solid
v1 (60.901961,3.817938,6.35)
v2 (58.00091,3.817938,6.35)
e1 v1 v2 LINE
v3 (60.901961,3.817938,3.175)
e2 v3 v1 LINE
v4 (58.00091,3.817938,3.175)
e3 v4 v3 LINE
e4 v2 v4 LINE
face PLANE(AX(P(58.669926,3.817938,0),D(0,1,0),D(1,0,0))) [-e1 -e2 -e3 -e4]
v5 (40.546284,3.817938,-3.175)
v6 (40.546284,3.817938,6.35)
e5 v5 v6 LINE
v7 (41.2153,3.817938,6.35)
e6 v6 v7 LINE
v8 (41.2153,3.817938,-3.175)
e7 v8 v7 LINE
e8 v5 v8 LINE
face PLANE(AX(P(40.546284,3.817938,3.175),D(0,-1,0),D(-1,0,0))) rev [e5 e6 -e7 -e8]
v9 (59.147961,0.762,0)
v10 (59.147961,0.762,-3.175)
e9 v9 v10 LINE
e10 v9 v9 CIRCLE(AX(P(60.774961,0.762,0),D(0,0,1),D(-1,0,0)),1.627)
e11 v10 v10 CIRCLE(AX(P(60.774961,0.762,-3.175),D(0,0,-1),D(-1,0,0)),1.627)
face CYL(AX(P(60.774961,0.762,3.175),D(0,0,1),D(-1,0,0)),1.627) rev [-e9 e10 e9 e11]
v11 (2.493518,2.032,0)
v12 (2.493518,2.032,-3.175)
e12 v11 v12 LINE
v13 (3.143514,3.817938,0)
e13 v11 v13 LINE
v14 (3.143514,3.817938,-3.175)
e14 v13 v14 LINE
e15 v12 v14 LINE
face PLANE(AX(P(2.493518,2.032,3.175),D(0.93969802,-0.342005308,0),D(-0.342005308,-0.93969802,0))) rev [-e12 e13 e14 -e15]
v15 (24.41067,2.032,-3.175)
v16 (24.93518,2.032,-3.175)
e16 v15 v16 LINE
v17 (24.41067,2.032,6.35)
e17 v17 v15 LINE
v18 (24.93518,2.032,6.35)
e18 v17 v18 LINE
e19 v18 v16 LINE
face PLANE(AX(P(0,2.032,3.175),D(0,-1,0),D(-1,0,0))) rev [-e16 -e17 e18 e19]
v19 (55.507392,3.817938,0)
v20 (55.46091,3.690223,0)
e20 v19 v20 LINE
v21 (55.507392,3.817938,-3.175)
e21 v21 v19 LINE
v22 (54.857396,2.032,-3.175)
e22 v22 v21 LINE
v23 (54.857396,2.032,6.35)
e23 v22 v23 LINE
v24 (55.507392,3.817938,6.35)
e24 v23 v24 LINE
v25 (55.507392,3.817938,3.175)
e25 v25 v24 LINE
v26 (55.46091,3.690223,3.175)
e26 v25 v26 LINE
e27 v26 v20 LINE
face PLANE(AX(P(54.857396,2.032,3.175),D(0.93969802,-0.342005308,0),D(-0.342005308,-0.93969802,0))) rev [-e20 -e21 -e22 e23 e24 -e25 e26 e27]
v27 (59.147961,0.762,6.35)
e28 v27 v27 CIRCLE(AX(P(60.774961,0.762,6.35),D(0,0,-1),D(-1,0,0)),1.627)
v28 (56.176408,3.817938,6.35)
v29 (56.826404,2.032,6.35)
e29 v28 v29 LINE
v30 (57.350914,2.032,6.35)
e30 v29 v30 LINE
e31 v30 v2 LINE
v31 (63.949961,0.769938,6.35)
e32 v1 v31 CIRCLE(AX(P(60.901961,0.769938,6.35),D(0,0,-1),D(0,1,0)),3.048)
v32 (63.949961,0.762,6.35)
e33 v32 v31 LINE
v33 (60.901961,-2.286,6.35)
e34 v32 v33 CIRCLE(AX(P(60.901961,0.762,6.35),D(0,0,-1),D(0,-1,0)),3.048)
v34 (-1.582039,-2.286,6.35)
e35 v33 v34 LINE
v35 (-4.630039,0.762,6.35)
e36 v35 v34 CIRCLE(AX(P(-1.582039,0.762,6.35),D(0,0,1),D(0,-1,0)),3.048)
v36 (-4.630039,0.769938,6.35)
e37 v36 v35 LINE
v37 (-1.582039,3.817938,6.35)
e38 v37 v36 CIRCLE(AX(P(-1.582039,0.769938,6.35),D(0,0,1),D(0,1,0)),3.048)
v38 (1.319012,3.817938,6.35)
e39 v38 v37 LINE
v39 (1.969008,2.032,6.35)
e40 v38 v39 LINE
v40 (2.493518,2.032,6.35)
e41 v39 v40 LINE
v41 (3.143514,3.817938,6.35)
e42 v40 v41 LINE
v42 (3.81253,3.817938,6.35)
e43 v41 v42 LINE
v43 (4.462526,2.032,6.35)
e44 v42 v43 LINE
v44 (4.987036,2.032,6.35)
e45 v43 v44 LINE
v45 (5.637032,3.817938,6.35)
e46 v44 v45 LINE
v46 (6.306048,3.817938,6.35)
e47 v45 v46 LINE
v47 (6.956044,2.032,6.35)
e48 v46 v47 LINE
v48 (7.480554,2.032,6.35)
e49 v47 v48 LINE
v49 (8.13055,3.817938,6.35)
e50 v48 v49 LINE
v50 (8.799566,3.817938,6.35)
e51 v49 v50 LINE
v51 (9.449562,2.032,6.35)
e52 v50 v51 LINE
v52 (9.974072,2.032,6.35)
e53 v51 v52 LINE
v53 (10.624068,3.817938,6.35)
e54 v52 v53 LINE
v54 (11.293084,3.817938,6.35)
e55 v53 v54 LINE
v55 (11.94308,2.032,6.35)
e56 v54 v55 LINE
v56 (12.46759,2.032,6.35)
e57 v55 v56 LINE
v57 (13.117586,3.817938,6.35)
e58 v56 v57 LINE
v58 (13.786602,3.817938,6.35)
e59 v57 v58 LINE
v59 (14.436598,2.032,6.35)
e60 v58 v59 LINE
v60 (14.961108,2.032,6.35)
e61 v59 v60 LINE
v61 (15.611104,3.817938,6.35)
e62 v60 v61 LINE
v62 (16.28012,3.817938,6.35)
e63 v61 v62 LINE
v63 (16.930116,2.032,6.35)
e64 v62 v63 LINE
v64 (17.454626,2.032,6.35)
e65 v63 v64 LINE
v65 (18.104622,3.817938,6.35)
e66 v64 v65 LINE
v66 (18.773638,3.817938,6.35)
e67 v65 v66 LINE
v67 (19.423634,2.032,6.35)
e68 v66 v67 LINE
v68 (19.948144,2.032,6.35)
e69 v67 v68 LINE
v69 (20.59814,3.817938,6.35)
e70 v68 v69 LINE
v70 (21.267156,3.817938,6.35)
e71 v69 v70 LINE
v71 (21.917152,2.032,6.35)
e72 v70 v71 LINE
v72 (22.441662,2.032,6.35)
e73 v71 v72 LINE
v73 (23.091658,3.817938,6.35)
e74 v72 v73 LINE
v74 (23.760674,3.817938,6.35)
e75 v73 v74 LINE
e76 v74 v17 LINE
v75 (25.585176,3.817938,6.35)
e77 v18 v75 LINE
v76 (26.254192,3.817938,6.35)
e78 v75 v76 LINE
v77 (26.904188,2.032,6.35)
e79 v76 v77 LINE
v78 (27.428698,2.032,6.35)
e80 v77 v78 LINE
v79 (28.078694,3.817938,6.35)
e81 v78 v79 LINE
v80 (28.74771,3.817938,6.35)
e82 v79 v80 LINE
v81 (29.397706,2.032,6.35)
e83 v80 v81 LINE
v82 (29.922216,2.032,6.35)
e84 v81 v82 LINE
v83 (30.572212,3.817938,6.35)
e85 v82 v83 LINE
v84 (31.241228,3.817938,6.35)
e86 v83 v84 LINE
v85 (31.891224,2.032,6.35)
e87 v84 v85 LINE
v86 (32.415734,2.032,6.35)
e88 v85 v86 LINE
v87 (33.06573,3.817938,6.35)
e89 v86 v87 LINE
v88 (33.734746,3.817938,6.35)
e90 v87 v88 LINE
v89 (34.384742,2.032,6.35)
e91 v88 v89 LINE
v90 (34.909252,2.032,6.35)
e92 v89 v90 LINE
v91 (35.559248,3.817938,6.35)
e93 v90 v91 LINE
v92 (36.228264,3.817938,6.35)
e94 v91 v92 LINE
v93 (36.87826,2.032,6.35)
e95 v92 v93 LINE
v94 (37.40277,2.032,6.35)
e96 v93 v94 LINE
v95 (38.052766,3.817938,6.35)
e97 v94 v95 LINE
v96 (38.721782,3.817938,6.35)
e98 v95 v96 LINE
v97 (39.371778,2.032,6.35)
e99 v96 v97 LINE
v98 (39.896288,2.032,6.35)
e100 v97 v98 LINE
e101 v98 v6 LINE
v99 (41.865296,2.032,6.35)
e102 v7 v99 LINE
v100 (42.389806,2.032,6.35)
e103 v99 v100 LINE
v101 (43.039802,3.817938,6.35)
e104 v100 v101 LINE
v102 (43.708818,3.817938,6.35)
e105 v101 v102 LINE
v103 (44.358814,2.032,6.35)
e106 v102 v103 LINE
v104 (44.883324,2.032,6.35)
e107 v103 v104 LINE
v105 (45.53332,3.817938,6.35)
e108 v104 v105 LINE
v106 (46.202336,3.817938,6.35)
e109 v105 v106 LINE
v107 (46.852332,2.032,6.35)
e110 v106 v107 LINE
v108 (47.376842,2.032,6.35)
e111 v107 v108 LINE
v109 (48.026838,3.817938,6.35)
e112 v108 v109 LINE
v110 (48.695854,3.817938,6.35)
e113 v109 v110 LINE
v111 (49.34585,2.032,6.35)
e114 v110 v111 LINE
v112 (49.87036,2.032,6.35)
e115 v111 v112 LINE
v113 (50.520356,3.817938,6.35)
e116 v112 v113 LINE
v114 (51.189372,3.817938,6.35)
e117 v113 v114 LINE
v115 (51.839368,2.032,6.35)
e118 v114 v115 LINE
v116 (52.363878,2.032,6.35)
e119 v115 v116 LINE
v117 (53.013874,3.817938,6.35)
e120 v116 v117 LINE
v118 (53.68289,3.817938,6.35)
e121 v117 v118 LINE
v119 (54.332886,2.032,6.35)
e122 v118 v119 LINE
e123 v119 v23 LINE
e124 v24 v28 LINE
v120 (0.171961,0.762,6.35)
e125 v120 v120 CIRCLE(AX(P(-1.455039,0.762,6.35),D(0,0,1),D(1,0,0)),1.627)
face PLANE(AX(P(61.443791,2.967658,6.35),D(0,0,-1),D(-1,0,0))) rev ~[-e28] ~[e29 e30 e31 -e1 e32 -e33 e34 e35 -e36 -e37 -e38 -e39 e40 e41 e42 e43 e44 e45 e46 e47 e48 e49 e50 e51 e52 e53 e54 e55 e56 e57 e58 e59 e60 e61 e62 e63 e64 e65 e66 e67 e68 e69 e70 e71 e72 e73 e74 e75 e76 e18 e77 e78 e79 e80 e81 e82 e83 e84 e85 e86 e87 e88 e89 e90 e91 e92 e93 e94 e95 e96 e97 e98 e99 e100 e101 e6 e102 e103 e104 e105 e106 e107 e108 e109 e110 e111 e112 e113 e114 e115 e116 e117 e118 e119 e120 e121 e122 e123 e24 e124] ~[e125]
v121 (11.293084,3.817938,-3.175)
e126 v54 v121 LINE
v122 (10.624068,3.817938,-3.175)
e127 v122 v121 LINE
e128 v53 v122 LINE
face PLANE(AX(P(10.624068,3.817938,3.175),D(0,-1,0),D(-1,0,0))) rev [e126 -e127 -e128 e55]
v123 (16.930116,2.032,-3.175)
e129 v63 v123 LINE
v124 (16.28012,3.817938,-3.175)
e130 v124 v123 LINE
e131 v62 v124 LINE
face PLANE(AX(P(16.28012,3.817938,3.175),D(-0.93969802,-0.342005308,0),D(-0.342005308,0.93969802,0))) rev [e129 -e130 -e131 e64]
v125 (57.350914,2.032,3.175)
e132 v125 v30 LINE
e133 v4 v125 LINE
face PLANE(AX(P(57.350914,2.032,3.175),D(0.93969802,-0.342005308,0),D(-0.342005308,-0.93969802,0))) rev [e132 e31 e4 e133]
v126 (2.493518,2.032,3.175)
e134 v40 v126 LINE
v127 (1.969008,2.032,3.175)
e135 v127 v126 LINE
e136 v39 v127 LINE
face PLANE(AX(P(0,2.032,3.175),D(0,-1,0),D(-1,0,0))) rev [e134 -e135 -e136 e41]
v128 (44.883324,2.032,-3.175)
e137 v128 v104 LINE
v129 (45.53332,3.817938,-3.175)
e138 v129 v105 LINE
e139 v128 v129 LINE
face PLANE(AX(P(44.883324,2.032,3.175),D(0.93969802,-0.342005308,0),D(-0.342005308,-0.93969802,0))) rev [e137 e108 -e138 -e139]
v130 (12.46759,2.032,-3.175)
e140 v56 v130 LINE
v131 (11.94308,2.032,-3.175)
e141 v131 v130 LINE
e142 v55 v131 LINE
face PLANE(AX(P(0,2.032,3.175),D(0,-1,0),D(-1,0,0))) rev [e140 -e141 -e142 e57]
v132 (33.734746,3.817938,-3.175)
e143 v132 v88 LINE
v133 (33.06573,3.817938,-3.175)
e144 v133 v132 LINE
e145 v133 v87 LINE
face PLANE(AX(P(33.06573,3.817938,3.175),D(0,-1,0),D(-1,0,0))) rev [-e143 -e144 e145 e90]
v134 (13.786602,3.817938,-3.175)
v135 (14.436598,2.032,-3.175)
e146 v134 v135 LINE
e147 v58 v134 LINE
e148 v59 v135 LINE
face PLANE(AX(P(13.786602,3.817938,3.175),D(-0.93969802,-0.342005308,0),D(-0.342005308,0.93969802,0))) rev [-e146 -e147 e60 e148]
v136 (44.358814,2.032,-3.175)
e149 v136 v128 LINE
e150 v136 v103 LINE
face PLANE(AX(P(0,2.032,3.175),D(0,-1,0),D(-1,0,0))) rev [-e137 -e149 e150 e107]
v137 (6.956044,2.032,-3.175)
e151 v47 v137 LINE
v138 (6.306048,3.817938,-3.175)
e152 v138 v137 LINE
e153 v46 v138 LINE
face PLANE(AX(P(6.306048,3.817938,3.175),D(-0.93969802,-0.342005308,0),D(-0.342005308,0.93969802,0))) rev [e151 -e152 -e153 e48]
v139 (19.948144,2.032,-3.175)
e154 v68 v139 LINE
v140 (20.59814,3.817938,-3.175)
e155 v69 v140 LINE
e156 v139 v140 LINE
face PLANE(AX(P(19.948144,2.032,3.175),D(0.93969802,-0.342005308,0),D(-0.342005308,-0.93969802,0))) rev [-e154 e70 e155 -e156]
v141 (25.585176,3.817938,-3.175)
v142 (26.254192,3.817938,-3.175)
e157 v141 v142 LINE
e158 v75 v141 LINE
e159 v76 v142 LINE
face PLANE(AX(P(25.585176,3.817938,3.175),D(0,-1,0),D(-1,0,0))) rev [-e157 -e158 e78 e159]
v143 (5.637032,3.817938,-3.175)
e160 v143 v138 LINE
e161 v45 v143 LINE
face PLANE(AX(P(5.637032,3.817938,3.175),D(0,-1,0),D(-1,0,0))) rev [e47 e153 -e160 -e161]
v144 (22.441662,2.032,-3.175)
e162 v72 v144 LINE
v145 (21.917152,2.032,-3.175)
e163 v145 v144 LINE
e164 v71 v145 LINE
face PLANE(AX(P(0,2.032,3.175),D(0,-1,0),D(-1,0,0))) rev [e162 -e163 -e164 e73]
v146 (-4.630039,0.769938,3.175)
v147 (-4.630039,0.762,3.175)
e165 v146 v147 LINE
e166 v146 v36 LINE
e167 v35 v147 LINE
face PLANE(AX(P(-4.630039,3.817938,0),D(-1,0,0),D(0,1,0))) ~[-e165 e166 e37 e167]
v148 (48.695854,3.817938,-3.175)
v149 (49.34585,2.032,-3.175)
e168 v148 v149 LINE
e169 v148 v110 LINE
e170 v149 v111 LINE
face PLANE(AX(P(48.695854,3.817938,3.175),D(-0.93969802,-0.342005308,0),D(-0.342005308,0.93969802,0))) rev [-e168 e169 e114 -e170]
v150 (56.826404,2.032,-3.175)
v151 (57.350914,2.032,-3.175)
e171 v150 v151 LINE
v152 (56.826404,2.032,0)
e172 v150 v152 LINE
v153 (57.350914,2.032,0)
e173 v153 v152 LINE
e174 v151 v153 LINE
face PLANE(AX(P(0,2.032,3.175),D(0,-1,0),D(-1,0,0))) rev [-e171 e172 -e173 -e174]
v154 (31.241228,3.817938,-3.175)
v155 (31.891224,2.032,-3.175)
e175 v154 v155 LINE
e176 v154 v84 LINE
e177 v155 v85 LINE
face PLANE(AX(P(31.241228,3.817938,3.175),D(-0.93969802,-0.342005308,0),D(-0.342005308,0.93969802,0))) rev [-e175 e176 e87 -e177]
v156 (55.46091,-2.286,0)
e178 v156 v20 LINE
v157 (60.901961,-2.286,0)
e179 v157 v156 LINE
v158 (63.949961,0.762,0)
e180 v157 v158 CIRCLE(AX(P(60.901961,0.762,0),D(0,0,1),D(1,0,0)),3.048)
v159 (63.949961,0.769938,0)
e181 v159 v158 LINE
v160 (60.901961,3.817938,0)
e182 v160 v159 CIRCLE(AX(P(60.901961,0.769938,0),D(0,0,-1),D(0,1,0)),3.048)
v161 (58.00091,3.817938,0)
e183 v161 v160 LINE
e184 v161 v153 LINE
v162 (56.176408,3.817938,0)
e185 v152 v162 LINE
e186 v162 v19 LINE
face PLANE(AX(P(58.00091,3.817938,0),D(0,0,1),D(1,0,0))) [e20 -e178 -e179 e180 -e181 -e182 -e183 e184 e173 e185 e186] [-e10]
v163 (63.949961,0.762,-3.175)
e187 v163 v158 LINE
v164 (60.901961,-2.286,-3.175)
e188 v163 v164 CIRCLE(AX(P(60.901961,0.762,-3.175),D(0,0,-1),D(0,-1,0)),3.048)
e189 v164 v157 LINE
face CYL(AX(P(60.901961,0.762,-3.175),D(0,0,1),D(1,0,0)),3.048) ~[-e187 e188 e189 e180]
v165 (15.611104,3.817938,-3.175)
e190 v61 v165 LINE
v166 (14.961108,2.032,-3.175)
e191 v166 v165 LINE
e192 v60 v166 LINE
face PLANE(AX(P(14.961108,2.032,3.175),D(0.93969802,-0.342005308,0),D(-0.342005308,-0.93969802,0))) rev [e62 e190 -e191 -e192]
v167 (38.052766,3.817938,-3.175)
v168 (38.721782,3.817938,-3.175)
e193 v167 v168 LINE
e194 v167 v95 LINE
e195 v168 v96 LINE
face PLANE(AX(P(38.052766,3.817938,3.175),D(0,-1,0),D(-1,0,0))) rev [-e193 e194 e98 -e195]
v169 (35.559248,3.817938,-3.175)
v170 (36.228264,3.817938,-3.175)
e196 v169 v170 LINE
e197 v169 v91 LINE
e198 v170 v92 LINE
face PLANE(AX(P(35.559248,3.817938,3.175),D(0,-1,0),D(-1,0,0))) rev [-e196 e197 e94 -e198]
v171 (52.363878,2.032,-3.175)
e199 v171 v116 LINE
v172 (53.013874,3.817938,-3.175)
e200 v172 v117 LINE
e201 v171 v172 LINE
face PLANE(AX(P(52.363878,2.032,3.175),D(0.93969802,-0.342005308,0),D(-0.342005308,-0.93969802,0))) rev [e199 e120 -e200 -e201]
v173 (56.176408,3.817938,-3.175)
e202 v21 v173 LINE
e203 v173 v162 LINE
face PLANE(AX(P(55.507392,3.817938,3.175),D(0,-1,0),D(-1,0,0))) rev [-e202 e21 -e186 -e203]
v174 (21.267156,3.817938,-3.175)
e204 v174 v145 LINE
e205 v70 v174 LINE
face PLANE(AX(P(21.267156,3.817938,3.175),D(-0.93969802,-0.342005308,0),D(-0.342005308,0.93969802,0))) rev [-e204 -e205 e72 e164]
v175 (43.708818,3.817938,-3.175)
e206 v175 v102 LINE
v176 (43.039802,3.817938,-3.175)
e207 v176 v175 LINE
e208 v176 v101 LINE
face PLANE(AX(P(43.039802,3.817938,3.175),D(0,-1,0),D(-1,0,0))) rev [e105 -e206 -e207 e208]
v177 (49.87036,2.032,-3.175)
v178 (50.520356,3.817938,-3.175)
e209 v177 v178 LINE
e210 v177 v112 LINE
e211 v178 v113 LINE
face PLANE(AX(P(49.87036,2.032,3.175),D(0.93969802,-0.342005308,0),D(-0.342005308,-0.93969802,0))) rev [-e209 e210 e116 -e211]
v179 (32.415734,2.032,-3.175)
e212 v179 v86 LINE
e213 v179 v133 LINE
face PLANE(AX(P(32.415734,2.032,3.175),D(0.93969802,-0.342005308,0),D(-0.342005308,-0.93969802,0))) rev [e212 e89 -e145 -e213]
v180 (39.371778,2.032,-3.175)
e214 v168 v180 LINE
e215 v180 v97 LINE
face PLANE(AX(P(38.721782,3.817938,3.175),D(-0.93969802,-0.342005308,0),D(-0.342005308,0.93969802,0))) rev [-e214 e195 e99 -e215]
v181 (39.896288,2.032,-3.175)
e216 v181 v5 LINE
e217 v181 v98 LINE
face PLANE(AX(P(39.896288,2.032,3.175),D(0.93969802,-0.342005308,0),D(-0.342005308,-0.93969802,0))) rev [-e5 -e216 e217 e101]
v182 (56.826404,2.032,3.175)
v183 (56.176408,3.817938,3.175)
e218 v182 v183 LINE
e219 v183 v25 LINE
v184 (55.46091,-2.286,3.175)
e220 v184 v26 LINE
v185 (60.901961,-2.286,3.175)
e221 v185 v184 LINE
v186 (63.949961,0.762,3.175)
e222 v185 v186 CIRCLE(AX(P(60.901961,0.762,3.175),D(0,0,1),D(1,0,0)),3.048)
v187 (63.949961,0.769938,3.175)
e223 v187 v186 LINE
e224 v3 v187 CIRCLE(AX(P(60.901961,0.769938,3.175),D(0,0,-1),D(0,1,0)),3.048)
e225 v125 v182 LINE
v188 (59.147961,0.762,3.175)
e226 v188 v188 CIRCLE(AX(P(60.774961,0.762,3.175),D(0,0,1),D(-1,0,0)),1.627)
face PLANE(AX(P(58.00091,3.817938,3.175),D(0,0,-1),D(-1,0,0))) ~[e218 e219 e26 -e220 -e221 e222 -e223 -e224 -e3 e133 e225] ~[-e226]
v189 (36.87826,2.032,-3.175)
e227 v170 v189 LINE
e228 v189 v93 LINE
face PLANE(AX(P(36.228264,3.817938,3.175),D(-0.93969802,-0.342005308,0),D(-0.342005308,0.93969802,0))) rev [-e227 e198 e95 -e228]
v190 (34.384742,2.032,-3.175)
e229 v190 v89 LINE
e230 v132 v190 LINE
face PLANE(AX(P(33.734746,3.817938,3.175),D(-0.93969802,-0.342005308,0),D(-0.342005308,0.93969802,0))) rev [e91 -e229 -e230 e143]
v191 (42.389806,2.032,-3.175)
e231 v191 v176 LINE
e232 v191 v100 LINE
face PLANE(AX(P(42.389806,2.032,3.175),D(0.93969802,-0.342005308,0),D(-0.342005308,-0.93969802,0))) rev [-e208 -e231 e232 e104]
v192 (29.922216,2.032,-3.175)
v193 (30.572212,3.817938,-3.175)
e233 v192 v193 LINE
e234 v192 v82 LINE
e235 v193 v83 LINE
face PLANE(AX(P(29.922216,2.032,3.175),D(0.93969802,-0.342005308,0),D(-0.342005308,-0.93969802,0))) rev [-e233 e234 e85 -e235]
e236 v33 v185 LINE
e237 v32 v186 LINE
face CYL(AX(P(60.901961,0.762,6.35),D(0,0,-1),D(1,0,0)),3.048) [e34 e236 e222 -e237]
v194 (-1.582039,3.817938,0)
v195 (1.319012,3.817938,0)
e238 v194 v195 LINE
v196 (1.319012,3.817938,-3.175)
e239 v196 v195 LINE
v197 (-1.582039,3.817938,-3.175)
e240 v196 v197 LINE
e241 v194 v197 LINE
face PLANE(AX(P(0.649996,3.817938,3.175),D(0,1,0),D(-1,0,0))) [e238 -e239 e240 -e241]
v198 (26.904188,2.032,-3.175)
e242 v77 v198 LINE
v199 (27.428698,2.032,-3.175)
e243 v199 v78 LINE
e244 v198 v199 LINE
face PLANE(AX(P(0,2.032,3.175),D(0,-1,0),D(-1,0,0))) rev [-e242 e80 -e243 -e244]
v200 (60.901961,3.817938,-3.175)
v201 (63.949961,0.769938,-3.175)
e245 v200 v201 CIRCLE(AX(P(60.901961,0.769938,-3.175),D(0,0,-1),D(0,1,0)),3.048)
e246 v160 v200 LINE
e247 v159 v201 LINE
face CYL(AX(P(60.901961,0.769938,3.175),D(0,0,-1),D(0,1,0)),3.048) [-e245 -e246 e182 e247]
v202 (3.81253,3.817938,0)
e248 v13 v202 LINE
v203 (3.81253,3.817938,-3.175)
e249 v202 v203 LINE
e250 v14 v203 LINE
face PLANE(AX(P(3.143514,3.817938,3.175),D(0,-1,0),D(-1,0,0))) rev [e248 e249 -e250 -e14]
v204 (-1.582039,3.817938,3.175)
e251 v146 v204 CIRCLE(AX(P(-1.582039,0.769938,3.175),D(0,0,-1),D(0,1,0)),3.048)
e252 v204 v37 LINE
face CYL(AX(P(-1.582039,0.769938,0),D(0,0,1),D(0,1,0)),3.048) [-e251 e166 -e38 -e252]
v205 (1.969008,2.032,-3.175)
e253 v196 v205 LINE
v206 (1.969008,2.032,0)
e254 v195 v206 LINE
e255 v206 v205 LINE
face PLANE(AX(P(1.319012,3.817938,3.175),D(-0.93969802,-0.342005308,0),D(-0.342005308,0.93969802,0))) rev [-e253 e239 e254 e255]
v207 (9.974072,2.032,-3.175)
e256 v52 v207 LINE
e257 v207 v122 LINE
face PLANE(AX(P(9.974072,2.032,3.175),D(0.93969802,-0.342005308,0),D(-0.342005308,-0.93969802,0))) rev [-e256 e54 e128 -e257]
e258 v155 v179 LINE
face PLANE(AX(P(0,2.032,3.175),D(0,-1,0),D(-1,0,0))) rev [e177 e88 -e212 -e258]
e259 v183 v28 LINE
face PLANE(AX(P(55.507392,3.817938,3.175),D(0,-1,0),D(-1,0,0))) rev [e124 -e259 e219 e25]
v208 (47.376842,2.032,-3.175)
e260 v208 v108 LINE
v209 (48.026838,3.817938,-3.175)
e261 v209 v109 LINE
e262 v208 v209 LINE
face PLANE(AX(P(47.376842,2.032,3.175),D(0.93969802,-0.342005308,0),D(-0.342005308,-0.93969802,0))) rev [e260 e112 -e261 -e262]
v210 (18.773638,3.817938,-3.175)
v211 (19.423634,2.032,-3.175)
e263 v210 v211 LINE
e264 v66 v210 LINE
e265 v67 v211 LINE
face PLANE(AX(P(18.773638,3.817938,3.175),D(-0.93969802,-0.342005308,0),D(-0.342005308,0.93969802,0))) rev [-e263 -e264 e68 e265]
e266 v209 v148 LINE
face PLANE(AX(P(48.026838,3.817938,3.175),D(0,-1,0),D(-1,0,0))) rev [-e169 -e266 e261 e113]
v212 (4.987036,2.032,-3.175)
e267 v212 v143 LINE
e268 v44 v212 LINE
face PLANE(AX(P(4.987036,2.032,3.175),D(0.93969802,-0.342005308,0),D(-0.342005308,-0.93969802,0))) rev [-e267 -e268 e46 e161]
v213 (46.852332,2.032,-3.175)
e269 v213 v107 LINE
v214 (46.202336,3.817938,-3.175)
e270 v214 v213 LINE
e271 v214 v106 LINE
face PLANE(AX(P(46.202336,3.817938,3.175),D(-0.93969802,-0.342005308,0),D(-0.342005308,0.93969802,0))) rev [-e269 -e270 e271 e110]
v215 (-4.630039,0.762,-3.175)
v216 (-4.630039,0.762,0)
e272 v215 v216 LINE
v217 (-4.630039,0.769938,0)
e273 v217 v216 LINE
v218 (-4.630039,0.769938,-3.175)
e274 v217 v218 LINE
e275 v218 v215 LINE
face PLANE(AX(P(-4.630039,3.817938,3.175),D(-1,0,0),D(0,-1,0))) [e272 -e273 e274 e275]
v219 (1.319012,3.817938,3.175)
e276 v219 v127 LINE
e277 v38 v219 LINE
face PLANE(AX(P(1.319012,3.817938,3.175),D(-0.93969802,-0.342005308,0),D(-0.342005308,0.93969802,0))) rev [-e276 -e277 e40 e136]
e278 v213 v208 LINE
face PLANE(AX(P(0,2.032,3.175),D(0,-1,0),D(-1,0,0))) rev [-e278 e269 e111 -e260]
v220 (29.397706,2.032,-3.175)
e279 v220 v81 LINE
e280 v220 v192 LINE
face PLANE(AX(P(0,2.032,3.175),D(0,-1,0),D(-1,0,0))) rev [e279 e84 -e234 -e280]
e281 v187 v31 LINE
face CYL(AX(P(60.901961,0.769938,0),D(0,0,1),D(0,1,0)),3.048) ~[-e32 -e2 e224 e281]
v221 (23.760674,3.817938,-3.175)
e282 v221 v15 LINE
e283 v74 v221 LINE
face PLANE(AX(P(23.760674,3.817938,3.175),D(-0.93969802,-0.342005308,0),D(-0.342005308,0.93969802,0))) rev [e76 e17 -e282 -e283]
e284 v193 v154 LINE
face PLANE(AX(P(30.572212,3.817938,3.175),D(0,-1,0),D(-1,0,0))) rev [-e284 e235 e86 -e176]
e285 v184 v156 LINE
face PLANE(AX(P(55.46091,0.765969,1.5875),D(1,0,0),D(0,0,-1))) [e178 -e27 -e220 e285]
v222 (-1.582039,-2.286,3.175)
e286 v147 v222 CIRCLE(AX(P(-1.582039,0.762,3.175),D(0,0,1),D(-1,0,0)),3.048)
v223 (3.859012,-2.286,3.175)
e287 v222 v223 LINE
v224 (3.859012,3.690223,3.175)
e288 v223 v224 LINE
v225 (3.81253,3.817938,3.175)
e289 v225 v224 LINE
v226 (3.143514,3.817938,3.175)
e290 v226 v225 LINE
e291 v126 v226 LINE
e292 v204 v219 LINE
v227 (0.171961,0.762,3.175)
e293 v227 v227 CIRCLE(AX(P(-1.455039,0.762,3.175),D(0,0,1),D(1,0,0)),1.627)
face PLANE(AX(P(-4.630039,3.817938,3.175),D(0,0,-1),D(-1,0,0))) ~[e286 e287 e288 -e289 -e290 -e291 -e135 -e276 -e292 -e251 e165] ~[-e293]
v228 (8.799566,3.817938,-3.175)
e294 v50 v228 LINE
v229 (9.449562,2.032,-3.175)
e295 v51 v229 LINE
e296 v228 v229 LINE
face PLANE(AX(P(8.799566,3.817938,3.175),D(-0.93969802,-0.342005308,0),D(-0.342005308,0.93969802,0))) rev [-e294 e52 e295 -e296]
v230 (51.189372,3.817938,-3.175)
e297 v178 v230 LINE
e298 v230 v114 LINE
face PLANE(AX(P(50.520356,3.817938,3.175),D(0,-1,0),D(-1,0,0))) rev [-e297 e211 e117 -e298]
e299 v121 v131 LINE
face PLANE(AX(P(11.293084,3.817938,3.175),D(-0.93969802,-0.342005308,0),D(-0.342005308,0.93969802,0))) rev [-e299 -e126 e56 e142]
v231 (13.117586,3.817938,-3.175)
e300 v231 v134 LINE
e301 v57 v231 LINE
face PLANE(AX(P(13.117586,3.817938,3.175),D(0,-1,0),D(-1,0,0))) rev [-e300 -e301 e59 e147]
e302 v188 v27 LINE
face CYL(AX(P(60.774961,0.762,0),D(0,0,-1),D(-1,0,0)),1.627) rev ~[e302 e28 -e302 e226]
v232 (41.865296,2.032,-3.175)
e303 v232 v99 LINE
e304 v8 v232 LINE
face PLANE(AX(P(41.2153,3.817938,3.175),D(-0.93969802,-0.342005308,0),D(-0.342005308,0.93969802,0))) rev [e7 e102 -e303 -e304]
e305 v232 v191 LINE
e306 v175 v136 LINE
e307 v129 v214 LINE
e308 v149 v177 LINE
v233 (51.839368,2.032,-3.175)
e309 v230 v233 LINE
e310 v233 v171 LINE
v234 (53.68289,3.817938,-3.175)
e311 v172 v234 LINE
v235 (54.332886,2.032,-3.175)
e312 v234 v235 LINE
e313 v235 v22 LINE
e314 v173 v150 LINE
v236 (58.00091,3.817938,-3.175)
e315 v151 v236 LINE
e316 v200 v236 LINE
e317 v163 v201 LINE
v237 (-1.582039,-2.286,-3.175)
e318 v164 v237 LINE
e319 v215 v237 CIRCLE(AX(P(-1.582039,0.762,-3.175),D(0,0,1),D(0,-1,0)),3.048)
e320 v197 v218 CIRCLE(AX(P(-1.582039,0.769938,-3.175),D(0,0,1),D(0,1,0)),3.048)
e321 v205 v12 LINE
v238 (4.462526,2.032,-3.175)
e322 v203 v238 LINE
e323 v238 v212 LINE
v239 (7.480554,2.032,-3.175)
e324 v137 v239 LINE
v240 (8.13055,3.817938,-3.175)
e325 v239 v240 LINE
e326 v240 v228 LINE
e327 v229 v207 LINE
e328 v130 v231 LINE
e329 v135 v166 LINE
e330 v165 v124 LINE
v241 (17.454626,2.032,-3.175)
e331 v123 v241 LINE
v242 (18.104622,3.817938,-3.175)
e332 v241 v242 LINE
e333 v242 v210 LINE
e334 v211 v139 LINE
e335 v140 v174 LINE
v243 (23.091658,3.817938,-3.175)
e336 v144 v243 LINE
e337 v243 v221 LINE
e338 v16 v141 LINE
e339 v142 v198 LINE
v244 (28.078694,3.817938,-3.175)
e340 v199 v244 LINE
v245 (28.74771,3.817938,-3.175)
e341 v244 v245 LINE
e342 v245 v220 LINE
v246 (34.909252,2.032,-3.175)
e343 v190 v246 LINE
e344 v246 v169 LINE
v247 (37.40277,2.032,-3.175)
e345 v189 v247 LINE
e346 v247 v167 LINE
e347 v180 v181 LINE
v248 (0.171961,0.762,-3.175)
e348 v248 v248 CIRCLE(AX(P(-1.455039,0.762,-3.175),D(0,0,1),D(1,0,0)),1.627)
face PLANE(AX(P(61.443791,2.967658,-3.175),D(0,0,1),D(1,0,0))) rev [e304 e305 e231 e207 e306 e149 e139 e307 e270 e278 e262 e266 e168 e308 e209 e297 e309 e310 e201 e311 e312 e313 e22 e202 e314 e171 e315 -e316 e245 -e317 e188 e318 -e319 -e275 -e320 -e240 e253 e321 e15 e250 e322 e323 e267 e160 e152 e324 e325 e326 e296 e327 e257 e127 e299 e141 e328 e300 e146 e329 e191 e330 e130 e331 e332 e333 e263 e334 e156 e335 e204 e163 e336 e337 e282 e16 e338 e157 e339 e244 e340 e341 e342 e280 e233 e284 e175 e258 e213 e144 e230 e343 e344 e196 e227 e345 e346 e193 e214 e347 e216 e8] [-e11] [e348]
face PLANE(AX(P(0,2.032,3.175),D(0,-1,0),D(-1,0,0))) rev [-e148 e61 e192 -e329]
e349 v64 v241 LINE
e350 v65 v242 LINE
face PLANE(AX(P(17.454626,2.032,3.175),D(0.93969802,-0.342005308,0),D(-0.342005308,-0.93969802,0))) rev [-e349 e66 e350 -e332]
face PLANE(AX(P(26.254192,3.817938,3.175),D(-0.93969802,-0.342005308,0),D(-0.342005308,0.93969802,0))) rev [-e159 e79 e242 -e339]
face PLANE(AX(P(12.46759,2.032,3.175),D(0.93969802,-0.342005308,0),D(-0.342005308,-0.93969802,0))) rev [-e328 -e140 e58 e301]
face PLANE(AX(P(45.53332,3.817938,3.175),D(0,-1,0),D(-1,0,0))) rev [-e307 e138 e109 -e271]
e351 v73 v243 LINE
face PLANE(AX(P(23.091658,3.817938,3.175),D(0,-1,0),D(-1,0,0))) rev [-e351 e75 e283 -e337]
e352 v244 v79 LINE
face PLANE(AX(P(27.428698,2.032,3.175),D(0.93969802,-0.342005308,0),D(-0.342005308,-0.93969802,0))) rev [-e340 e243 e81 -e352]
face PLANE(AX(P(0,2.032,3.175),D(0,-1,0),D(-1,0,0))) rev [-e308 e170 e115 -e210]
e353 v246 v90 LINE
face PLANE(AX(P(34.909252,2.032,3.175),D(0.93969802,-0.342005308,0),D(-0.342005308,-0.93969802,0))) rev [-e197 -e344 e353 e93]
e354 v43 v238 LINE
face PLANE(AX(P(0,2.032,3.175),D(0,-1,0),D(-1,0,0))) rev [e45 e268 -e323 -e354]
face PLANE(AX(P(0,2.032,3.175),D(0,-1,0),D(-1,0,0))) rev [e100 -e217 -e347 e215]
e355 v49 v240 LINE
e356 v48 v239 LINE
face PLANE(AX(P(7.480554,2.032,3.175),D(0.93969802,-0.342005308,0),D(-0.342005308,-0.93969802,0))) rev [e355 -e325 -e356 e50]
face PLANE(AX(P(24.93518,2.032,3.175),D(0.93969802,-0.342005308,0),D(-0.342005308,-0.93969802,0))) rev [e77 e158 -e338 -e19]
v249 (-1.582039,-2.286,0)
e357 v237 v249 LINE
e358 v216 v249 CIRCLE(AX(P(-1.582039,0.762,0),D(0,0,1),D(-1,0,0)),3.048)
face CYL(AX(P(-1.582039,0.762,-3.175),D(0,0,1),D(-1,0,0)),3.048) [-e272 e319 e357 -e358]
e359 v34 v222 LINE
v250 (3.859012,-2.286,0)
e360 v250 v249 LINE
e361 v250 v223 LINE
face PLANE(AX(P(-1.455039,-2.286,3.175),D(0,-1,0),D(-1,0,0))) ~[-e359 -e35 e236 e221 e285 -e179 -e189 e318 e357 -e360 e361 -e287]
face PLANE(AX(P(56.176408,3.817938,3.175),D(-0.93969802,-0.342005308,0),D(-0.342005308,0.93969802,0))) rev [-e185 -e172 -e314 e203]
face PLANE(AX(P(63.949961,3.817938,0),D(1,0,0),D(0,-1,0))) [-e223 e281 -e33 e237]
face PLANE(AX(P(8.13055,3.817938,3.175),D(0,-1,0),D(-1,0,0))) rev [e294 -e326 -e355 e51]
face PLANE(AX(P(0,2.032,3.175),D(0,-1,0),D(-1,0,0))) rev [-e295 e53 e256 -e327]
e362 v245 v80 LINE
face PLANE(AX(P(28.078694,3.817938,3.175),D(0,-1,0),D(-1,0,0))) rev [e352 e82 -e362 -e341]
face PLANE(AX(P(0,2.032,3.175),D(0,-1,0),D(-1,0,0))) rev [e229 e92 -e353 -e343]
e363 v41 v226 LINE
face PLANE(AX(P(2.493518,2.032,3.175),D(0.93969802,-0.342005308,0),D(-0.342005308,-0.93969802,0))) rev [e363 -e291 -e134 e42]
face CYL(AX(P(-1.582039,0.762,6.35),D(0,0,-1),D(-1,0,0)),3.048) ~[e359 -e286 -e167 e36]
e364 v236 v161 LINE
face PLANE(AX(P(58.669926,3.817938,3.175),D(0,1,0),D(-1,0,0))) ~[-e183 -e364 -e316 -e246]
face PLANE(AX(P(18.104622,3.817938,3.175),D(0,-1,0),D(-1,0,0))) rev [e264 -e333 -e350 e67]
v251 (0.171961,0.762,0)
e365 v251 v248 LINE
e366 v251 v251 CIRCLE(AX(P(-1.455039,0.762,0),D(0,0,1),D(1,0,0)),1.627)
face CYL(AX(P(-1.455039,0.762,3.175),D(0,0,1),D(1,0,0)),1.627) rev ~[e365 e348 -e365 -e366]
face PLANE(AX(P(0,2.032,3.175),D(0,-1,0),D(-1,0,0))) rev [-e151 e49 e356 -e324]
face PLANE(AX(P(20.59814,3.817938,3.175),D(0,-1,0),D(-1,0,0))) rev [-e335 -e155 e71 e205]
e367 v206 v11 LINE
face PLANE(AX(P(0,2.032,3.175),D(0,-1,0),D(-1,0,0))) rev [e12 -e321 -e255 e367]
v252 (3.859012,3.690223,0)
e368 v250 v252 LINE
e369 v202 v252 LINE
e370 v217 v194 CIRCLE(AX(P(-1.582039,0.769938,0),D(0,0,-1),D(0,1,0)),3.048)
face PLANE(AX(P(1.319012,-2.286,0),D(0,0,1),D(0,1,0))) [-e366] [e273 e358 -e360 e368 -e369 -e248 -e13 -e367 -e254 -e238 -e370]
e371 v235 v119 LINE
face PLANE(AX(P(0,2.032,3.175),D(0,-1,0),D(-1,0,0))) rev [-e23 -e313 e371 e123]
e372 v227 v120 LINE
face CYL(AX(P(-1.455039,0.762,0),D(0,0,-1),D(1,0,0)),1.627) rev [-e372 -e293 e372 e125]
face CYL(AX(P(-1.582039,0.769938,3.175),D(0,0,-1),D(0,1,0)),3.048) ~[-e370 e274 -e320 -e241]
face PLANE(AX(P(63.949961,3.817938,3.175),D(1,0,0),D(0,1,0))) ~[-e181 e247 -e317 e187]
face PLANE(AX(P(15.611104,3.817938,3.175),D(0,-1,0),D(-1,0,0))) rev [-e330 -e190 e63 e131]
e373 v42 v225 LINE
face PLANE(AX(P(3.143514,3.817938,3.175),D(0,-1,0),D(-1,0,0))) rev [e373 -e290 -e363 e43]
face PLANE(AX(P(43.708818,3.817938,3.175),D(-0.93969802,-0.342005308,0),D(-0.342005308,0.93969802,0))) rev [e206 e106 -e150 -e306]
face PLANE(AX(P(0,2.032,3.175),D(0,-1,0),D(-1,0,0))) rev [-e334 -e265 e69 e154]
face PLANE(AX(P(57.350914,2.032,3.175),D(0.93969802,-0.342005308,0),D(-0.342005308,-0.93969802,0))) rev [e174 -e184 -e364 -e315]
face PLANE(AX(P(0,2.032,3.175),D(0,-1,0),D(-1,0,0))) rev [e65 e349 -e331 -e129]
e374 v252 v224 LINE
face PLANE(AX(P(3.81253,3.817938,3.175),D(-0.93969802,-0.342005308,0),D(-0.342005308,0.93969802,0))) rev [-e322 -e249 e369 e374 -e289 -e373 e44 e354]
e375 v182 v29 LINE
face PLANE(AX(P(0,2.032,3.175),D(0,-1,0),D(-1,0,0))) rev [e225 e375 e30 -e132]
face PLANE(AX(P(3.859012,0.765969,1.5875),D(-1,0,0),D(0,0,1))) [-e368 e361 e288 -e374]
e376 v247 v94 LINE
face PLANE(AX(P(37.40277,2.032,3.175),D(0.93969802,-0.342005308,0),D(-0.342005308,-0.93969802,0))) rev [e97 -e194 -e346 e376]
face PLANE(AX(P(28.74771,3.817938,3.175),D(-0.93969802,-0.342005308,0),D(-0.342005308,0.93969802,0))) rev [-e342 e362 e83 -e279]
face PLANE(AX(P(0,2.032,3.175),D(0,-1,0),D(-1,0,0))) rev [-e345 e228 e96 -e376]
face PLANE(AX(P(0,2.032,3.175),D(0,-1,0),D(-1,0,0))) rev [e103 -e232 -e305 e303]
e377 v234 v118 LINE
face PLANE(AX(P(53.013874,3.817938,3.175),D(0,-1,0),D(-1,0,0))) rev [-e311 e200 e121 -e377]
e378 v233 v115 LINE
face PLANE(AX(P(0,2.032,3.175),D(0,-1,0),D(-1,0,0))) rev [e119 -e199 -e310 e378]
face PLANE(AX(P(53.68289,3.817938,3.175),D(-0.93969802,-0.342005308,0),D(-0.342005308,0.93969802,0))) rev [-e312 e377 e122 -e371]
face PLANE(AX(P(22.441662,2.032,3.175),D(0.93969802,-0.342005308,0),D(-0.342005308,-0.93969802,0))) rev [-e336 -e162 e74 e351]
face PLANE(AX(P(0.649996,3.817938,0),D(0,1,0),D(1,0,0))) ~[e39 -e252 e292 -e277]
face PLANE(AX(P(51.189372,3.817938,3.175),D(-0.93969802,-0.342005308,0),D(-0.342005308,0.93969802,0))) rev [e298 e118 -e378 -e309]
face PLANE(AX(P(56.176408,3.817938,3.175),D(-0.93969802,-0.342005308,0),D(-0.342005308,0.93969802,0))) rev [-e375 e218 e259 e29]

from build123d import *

# Parameters (mm, degrees)
SKETCH6_W            = 62.23
SKETCH6_H            = 2.032
BOSS_EXTRUDE2_DEPTH  = 3.175
BOSS_EXTRUDE3_DEPTH  = 3.175
LPATTERN2_COUNT      = 24
LPATTERN2_PITCH      = 2.493518
SKETCH9_W            = 2.910078
SKETCH9_H            = 2.032
CUT_EXTRUDE1_DEPTH   = 3.175
SKETCH10_W           = 59.319922
SKETCH10_H           = 6.35
BOSS_EXTRUDE4_DEPTH  = 0.508
SKETCH11_W           = 68.58
SKETCH11_H           = 2.54
BOSS_EXTRUDE5_DEPTH  = 6.35
SKETCH12_W           = 6.35
SKETCH12_H           = 6.35
BOSS_EXTRUDE6_DEPTH  = 1.778
SKETCH14_W           = 31.115
SKETCH14_H           = 1.778
BOSS_EXTRUDE7_DEPTH  = 6.35
CUT_EXTRUDE2_REACH   = 66.378
SKETCH13_R           = 1.627
FILLET1_R            = 3.048
FILLET1_OF_MIRROR4_R = 3.048
CUT_EXTRUDE3_REACH   = 66.319
SKETCH16_W           = 5.94905084
SKETCH16_H           = 3.175
CUT_EXTRUDE4_REACH   = 66.241
SKETCH18_W           = 74.285931649
SKETCH18_H           = 23.332469726
SKETCH19_W           = 3.175
SKETCH19_H           = 6.1039375
CUT_EXTRUDE5_DEPTH   = 2.54
SKETCH20_W           = 3.175
SKETCH20_H           = 6.1039375
CUT_EXTRUDE6_DEPTH   = 2.54


with BuildPart() as part:
    # Sketch6 → Boss-Extrude2 (new, symmetric)
    with BuildSketch(Plane.XY):
        with Locations((31.115, 1.016)):
            Rectangle(SKETCH6_W, SKETCH6_H)
    extrude(amount=BOSS_EXTRUDE2_DEPTH, both=True)

    # Sketch7 → Boss-Extrude3 (add, symmetric)
    with BuildSketch(Plane.XY):
        Polygon((1.31901184, 3.8179375), (1.969008, 2.032), (0, 2.032), (0.64999616, 3.8179375), align=None)
    boss_extrude3 = extrude(amount=BOSS_EXTRUDE3_DEPTH, both=True)

    # LPattern2: Boss-Extrude3 ×24
    with Locations(*[(i * LPATTERN2_PITCH, 0, 0) for i in range(1, LPATTERN2_COUNT)]):
        add(boss_extrude3)

    # Sketch9 → Cut-Extrude1 (cut, symmetric)
    with BuildSketch(Plane.XY):
        with Locations((60.774961, 1.016)):
            Rectangle(SKETCH9_W, SKETCH9_H)
    extrude(amount=CUT_EXTRUDE1_DEPTH, both=True, mode=Mode.SUBTRACT)

    # Sketch10 → Boss-Extrude4 (add)
    with BuildSketch(Plane.XZ):
        with Locations((29.659961, 0)):
            Rectangle(SKETCH10_W, SKETCH10_H)
    extrude(amount=BOSS_EXTRUDE4_DEPTH)

    # Sketch11 → Boss-Extrude5 (add)
    with BuildSketch(Plane.XY.offset(3.175)):
        with Locations((29.659961, 0.762)):
            Rectangle(SKETCH11_W, SKETCH11_H)
    extrude(amount=-BOSS_EXTRUDE5_DEPTH)

    # Sketch12 → Boss-Extrude6 (add)
    with BuildSketch(Plane.XZ.offset(0.508)):
        with Locations((-1.455039, 0)):
            Rectangle(SKETCH12_W, SKETCH12_H)
    boss_extrude6 = extrude(amount=BOSS_EXTRUDE6_DEPTH)

    # Sketch14 → Boss-Extrude7 (add)
    with BuildSketch(Plane.XY.offset(3.175)):
        Polygon((-4.630039, 2.92496875), (-4.630039, 2.032), (0, 2.032), (0.32499808, 2.92496875), (0.64999616, 3.8179375), (-4.630039, 3.8179375), align=None)
        with Locations((17.277461, -1.397)):
            Rectangle(SKETCH14_W, SKETCH14_H)
    boss_extrude7 = extrude(amount=-BOSS_EXTRUDE7_DEPTH)

    # Sketch13 → Cut-Extrude2 (cut, up to next)
    with BuildSketch(Plane.XY.offset(3.175), mode=Mode.PRIVATE) as cut_extrude2_sk1:
        with Locations((-1.455039, 0.762)):
            Circle(SKETCH13_R)
    cut_extrude2_tool1 = extrude(cut_extrude2_sk1.sketch, amount=-CUT_EXTRUDE2_REACH, mode=Mode.PRIVATE) & part.part
    cut_extrude2 = cut_extrude2_tool1.solids().sort_by_distance((-1.455039, 0.762, 3.175))[0]
    add(cut_extrude2, mode=Mode.SUBTRACT)

    # Fillet1
    fillet1_edges = [part.edges().sort_by_distance(p)[0] for p in [
        (-4.630039, -2.286, 0),
        (-4.630039, 3.8179375, 0),
    ]]
    fillet(fillet1_edges, radius=FILLET1_R)

    # Mirror4: Boss-Extrude6, Boss-Extrude7, Cut-Extrude2 across plane
    add(boss_extrude6.mirror(Plane.ZY.offset(-29.659961)))
    add(boss_extrude7.mirror(Plane.ZY.offset(-29.659961)))
    add(cut_extrude2.mirror(Plane.ZY.offset(-29.659961)), mode=Mode.SUBTRACT)

    # Fillet1 of Mirror4
    fillet1_of_mirror4_edges = [part.edges().sort_by_distance(p)[0] for p in [
        (63.949961, -2.286, 0),
        (63.949961, 3.8179375, 0),
    ]]
    fillet(fillet1_of_mirror4_edges, radius=FILLET1_OF_MIRROR4_R)

    # Sketch16 → Cut-Extrude3 (cut, up to next)
    with BuildSketch(Plane(origin=(0, 3.8179375, 0), x_dir=(1, 0, 0), z_dir=(0, 1, 0)), mode=Mode.PRIVATE) as cut_extrude3_sk1:
        with Locations((-1.65551358, -1.5875)):
            Rectangle(SKETCH16_W, SKETCH16_H)
    cut_extrude3_tool1 = extrude(cut_extrude3_sk1.sketch, amount=-CUT_EXTRUDE3_REACH, mode=Mode.PRIVATE) & part.part
    # Sketch16 → Cut-Extrude3 (cut, up to next)
    with BuildSketch(Plane(origin=(0, 3.8179375, 0), x_dir=(1, 0, 0), z_dir=(0, 1, 0)), mode=Mode.PRIVATE) as cut_extrude3_sk2:
        with Locations((60.97543558, -1.5875)):
            Rectangle(SKETCH16_W, SKETCH16_H)
    cut_extrude3_tool2 = extrude(cut_extrude3_sk2.sketch, amount=-CUT_EXTRUDE3_REACH, mode=Mode.PRIVATE) & part.part
    add(cut_extrude3_tool1.solids().sort_by_distance((-1.655514, 3.817937, 1.5875))[0], mode=Mode.SUBTRACT)
    add(cut_extrude3_tool2.solids().sort_by_distance((60.975436, 3.817937, 1.5875))[0], mode=Mode.SUBTRACT)

    # Sketch18 → Cut-Extrude4 (cut, up to next)
    with BuildSketch(Plane.XY.offset(1.5875), mode=Mode.PRIVATE) as cut_extrude4_sk1:
        with Locations((31.985939291, 1.965301306)):
            Rectangle(SKETCH18_W, SKETCH18_H)
    cut_extrude4_tool1 = extrude(cut_extrude4_sk1.sketch, amount=CUT_EXTRUDE4_REACH, mode=Mode.PRIVATE) & part.part
    add(cut_extrude4_tool1.solids().sort_by_distance((31.985939, 1.965301, 1.5875))[0], mode=Mode.SUBTRACT)

    # Mirror11: part across plane


with BuildPart() as part_1:
    add(part.part)
    add(part.part.mirror(Plane.XY.offset(1.5875)))

    # Sketch19 → Cut-Extrude5 (cut)
    with BuildSketch(Plane(origin=(58.00091016, 0, 0), x_dir=(0, 0, -1), z_dir=(1, 0, 0))):
        with Locations((-1.5875, 0.76596875)):
            Rectangle(SKETCH19_W, SKETCH19_H)
    extrude(amount=-CUT_EXTRUDE5_DEPTH, mode=Mode.SUBTRACT)

    # Sketch20 → Cut-Extrude6 (cut)
    with BuildSketch(Plane.ZY.offset(-1.31901184)):
        with Locations((1.5875, 0.76596875)):
            Rectangle(SKETCH20_W, SKETCH20_H)
    extrude(amount=-CUT_EXTRUDE6_DEPTH, mode=Mode.SUBTRACT)


solid = part_1.part
